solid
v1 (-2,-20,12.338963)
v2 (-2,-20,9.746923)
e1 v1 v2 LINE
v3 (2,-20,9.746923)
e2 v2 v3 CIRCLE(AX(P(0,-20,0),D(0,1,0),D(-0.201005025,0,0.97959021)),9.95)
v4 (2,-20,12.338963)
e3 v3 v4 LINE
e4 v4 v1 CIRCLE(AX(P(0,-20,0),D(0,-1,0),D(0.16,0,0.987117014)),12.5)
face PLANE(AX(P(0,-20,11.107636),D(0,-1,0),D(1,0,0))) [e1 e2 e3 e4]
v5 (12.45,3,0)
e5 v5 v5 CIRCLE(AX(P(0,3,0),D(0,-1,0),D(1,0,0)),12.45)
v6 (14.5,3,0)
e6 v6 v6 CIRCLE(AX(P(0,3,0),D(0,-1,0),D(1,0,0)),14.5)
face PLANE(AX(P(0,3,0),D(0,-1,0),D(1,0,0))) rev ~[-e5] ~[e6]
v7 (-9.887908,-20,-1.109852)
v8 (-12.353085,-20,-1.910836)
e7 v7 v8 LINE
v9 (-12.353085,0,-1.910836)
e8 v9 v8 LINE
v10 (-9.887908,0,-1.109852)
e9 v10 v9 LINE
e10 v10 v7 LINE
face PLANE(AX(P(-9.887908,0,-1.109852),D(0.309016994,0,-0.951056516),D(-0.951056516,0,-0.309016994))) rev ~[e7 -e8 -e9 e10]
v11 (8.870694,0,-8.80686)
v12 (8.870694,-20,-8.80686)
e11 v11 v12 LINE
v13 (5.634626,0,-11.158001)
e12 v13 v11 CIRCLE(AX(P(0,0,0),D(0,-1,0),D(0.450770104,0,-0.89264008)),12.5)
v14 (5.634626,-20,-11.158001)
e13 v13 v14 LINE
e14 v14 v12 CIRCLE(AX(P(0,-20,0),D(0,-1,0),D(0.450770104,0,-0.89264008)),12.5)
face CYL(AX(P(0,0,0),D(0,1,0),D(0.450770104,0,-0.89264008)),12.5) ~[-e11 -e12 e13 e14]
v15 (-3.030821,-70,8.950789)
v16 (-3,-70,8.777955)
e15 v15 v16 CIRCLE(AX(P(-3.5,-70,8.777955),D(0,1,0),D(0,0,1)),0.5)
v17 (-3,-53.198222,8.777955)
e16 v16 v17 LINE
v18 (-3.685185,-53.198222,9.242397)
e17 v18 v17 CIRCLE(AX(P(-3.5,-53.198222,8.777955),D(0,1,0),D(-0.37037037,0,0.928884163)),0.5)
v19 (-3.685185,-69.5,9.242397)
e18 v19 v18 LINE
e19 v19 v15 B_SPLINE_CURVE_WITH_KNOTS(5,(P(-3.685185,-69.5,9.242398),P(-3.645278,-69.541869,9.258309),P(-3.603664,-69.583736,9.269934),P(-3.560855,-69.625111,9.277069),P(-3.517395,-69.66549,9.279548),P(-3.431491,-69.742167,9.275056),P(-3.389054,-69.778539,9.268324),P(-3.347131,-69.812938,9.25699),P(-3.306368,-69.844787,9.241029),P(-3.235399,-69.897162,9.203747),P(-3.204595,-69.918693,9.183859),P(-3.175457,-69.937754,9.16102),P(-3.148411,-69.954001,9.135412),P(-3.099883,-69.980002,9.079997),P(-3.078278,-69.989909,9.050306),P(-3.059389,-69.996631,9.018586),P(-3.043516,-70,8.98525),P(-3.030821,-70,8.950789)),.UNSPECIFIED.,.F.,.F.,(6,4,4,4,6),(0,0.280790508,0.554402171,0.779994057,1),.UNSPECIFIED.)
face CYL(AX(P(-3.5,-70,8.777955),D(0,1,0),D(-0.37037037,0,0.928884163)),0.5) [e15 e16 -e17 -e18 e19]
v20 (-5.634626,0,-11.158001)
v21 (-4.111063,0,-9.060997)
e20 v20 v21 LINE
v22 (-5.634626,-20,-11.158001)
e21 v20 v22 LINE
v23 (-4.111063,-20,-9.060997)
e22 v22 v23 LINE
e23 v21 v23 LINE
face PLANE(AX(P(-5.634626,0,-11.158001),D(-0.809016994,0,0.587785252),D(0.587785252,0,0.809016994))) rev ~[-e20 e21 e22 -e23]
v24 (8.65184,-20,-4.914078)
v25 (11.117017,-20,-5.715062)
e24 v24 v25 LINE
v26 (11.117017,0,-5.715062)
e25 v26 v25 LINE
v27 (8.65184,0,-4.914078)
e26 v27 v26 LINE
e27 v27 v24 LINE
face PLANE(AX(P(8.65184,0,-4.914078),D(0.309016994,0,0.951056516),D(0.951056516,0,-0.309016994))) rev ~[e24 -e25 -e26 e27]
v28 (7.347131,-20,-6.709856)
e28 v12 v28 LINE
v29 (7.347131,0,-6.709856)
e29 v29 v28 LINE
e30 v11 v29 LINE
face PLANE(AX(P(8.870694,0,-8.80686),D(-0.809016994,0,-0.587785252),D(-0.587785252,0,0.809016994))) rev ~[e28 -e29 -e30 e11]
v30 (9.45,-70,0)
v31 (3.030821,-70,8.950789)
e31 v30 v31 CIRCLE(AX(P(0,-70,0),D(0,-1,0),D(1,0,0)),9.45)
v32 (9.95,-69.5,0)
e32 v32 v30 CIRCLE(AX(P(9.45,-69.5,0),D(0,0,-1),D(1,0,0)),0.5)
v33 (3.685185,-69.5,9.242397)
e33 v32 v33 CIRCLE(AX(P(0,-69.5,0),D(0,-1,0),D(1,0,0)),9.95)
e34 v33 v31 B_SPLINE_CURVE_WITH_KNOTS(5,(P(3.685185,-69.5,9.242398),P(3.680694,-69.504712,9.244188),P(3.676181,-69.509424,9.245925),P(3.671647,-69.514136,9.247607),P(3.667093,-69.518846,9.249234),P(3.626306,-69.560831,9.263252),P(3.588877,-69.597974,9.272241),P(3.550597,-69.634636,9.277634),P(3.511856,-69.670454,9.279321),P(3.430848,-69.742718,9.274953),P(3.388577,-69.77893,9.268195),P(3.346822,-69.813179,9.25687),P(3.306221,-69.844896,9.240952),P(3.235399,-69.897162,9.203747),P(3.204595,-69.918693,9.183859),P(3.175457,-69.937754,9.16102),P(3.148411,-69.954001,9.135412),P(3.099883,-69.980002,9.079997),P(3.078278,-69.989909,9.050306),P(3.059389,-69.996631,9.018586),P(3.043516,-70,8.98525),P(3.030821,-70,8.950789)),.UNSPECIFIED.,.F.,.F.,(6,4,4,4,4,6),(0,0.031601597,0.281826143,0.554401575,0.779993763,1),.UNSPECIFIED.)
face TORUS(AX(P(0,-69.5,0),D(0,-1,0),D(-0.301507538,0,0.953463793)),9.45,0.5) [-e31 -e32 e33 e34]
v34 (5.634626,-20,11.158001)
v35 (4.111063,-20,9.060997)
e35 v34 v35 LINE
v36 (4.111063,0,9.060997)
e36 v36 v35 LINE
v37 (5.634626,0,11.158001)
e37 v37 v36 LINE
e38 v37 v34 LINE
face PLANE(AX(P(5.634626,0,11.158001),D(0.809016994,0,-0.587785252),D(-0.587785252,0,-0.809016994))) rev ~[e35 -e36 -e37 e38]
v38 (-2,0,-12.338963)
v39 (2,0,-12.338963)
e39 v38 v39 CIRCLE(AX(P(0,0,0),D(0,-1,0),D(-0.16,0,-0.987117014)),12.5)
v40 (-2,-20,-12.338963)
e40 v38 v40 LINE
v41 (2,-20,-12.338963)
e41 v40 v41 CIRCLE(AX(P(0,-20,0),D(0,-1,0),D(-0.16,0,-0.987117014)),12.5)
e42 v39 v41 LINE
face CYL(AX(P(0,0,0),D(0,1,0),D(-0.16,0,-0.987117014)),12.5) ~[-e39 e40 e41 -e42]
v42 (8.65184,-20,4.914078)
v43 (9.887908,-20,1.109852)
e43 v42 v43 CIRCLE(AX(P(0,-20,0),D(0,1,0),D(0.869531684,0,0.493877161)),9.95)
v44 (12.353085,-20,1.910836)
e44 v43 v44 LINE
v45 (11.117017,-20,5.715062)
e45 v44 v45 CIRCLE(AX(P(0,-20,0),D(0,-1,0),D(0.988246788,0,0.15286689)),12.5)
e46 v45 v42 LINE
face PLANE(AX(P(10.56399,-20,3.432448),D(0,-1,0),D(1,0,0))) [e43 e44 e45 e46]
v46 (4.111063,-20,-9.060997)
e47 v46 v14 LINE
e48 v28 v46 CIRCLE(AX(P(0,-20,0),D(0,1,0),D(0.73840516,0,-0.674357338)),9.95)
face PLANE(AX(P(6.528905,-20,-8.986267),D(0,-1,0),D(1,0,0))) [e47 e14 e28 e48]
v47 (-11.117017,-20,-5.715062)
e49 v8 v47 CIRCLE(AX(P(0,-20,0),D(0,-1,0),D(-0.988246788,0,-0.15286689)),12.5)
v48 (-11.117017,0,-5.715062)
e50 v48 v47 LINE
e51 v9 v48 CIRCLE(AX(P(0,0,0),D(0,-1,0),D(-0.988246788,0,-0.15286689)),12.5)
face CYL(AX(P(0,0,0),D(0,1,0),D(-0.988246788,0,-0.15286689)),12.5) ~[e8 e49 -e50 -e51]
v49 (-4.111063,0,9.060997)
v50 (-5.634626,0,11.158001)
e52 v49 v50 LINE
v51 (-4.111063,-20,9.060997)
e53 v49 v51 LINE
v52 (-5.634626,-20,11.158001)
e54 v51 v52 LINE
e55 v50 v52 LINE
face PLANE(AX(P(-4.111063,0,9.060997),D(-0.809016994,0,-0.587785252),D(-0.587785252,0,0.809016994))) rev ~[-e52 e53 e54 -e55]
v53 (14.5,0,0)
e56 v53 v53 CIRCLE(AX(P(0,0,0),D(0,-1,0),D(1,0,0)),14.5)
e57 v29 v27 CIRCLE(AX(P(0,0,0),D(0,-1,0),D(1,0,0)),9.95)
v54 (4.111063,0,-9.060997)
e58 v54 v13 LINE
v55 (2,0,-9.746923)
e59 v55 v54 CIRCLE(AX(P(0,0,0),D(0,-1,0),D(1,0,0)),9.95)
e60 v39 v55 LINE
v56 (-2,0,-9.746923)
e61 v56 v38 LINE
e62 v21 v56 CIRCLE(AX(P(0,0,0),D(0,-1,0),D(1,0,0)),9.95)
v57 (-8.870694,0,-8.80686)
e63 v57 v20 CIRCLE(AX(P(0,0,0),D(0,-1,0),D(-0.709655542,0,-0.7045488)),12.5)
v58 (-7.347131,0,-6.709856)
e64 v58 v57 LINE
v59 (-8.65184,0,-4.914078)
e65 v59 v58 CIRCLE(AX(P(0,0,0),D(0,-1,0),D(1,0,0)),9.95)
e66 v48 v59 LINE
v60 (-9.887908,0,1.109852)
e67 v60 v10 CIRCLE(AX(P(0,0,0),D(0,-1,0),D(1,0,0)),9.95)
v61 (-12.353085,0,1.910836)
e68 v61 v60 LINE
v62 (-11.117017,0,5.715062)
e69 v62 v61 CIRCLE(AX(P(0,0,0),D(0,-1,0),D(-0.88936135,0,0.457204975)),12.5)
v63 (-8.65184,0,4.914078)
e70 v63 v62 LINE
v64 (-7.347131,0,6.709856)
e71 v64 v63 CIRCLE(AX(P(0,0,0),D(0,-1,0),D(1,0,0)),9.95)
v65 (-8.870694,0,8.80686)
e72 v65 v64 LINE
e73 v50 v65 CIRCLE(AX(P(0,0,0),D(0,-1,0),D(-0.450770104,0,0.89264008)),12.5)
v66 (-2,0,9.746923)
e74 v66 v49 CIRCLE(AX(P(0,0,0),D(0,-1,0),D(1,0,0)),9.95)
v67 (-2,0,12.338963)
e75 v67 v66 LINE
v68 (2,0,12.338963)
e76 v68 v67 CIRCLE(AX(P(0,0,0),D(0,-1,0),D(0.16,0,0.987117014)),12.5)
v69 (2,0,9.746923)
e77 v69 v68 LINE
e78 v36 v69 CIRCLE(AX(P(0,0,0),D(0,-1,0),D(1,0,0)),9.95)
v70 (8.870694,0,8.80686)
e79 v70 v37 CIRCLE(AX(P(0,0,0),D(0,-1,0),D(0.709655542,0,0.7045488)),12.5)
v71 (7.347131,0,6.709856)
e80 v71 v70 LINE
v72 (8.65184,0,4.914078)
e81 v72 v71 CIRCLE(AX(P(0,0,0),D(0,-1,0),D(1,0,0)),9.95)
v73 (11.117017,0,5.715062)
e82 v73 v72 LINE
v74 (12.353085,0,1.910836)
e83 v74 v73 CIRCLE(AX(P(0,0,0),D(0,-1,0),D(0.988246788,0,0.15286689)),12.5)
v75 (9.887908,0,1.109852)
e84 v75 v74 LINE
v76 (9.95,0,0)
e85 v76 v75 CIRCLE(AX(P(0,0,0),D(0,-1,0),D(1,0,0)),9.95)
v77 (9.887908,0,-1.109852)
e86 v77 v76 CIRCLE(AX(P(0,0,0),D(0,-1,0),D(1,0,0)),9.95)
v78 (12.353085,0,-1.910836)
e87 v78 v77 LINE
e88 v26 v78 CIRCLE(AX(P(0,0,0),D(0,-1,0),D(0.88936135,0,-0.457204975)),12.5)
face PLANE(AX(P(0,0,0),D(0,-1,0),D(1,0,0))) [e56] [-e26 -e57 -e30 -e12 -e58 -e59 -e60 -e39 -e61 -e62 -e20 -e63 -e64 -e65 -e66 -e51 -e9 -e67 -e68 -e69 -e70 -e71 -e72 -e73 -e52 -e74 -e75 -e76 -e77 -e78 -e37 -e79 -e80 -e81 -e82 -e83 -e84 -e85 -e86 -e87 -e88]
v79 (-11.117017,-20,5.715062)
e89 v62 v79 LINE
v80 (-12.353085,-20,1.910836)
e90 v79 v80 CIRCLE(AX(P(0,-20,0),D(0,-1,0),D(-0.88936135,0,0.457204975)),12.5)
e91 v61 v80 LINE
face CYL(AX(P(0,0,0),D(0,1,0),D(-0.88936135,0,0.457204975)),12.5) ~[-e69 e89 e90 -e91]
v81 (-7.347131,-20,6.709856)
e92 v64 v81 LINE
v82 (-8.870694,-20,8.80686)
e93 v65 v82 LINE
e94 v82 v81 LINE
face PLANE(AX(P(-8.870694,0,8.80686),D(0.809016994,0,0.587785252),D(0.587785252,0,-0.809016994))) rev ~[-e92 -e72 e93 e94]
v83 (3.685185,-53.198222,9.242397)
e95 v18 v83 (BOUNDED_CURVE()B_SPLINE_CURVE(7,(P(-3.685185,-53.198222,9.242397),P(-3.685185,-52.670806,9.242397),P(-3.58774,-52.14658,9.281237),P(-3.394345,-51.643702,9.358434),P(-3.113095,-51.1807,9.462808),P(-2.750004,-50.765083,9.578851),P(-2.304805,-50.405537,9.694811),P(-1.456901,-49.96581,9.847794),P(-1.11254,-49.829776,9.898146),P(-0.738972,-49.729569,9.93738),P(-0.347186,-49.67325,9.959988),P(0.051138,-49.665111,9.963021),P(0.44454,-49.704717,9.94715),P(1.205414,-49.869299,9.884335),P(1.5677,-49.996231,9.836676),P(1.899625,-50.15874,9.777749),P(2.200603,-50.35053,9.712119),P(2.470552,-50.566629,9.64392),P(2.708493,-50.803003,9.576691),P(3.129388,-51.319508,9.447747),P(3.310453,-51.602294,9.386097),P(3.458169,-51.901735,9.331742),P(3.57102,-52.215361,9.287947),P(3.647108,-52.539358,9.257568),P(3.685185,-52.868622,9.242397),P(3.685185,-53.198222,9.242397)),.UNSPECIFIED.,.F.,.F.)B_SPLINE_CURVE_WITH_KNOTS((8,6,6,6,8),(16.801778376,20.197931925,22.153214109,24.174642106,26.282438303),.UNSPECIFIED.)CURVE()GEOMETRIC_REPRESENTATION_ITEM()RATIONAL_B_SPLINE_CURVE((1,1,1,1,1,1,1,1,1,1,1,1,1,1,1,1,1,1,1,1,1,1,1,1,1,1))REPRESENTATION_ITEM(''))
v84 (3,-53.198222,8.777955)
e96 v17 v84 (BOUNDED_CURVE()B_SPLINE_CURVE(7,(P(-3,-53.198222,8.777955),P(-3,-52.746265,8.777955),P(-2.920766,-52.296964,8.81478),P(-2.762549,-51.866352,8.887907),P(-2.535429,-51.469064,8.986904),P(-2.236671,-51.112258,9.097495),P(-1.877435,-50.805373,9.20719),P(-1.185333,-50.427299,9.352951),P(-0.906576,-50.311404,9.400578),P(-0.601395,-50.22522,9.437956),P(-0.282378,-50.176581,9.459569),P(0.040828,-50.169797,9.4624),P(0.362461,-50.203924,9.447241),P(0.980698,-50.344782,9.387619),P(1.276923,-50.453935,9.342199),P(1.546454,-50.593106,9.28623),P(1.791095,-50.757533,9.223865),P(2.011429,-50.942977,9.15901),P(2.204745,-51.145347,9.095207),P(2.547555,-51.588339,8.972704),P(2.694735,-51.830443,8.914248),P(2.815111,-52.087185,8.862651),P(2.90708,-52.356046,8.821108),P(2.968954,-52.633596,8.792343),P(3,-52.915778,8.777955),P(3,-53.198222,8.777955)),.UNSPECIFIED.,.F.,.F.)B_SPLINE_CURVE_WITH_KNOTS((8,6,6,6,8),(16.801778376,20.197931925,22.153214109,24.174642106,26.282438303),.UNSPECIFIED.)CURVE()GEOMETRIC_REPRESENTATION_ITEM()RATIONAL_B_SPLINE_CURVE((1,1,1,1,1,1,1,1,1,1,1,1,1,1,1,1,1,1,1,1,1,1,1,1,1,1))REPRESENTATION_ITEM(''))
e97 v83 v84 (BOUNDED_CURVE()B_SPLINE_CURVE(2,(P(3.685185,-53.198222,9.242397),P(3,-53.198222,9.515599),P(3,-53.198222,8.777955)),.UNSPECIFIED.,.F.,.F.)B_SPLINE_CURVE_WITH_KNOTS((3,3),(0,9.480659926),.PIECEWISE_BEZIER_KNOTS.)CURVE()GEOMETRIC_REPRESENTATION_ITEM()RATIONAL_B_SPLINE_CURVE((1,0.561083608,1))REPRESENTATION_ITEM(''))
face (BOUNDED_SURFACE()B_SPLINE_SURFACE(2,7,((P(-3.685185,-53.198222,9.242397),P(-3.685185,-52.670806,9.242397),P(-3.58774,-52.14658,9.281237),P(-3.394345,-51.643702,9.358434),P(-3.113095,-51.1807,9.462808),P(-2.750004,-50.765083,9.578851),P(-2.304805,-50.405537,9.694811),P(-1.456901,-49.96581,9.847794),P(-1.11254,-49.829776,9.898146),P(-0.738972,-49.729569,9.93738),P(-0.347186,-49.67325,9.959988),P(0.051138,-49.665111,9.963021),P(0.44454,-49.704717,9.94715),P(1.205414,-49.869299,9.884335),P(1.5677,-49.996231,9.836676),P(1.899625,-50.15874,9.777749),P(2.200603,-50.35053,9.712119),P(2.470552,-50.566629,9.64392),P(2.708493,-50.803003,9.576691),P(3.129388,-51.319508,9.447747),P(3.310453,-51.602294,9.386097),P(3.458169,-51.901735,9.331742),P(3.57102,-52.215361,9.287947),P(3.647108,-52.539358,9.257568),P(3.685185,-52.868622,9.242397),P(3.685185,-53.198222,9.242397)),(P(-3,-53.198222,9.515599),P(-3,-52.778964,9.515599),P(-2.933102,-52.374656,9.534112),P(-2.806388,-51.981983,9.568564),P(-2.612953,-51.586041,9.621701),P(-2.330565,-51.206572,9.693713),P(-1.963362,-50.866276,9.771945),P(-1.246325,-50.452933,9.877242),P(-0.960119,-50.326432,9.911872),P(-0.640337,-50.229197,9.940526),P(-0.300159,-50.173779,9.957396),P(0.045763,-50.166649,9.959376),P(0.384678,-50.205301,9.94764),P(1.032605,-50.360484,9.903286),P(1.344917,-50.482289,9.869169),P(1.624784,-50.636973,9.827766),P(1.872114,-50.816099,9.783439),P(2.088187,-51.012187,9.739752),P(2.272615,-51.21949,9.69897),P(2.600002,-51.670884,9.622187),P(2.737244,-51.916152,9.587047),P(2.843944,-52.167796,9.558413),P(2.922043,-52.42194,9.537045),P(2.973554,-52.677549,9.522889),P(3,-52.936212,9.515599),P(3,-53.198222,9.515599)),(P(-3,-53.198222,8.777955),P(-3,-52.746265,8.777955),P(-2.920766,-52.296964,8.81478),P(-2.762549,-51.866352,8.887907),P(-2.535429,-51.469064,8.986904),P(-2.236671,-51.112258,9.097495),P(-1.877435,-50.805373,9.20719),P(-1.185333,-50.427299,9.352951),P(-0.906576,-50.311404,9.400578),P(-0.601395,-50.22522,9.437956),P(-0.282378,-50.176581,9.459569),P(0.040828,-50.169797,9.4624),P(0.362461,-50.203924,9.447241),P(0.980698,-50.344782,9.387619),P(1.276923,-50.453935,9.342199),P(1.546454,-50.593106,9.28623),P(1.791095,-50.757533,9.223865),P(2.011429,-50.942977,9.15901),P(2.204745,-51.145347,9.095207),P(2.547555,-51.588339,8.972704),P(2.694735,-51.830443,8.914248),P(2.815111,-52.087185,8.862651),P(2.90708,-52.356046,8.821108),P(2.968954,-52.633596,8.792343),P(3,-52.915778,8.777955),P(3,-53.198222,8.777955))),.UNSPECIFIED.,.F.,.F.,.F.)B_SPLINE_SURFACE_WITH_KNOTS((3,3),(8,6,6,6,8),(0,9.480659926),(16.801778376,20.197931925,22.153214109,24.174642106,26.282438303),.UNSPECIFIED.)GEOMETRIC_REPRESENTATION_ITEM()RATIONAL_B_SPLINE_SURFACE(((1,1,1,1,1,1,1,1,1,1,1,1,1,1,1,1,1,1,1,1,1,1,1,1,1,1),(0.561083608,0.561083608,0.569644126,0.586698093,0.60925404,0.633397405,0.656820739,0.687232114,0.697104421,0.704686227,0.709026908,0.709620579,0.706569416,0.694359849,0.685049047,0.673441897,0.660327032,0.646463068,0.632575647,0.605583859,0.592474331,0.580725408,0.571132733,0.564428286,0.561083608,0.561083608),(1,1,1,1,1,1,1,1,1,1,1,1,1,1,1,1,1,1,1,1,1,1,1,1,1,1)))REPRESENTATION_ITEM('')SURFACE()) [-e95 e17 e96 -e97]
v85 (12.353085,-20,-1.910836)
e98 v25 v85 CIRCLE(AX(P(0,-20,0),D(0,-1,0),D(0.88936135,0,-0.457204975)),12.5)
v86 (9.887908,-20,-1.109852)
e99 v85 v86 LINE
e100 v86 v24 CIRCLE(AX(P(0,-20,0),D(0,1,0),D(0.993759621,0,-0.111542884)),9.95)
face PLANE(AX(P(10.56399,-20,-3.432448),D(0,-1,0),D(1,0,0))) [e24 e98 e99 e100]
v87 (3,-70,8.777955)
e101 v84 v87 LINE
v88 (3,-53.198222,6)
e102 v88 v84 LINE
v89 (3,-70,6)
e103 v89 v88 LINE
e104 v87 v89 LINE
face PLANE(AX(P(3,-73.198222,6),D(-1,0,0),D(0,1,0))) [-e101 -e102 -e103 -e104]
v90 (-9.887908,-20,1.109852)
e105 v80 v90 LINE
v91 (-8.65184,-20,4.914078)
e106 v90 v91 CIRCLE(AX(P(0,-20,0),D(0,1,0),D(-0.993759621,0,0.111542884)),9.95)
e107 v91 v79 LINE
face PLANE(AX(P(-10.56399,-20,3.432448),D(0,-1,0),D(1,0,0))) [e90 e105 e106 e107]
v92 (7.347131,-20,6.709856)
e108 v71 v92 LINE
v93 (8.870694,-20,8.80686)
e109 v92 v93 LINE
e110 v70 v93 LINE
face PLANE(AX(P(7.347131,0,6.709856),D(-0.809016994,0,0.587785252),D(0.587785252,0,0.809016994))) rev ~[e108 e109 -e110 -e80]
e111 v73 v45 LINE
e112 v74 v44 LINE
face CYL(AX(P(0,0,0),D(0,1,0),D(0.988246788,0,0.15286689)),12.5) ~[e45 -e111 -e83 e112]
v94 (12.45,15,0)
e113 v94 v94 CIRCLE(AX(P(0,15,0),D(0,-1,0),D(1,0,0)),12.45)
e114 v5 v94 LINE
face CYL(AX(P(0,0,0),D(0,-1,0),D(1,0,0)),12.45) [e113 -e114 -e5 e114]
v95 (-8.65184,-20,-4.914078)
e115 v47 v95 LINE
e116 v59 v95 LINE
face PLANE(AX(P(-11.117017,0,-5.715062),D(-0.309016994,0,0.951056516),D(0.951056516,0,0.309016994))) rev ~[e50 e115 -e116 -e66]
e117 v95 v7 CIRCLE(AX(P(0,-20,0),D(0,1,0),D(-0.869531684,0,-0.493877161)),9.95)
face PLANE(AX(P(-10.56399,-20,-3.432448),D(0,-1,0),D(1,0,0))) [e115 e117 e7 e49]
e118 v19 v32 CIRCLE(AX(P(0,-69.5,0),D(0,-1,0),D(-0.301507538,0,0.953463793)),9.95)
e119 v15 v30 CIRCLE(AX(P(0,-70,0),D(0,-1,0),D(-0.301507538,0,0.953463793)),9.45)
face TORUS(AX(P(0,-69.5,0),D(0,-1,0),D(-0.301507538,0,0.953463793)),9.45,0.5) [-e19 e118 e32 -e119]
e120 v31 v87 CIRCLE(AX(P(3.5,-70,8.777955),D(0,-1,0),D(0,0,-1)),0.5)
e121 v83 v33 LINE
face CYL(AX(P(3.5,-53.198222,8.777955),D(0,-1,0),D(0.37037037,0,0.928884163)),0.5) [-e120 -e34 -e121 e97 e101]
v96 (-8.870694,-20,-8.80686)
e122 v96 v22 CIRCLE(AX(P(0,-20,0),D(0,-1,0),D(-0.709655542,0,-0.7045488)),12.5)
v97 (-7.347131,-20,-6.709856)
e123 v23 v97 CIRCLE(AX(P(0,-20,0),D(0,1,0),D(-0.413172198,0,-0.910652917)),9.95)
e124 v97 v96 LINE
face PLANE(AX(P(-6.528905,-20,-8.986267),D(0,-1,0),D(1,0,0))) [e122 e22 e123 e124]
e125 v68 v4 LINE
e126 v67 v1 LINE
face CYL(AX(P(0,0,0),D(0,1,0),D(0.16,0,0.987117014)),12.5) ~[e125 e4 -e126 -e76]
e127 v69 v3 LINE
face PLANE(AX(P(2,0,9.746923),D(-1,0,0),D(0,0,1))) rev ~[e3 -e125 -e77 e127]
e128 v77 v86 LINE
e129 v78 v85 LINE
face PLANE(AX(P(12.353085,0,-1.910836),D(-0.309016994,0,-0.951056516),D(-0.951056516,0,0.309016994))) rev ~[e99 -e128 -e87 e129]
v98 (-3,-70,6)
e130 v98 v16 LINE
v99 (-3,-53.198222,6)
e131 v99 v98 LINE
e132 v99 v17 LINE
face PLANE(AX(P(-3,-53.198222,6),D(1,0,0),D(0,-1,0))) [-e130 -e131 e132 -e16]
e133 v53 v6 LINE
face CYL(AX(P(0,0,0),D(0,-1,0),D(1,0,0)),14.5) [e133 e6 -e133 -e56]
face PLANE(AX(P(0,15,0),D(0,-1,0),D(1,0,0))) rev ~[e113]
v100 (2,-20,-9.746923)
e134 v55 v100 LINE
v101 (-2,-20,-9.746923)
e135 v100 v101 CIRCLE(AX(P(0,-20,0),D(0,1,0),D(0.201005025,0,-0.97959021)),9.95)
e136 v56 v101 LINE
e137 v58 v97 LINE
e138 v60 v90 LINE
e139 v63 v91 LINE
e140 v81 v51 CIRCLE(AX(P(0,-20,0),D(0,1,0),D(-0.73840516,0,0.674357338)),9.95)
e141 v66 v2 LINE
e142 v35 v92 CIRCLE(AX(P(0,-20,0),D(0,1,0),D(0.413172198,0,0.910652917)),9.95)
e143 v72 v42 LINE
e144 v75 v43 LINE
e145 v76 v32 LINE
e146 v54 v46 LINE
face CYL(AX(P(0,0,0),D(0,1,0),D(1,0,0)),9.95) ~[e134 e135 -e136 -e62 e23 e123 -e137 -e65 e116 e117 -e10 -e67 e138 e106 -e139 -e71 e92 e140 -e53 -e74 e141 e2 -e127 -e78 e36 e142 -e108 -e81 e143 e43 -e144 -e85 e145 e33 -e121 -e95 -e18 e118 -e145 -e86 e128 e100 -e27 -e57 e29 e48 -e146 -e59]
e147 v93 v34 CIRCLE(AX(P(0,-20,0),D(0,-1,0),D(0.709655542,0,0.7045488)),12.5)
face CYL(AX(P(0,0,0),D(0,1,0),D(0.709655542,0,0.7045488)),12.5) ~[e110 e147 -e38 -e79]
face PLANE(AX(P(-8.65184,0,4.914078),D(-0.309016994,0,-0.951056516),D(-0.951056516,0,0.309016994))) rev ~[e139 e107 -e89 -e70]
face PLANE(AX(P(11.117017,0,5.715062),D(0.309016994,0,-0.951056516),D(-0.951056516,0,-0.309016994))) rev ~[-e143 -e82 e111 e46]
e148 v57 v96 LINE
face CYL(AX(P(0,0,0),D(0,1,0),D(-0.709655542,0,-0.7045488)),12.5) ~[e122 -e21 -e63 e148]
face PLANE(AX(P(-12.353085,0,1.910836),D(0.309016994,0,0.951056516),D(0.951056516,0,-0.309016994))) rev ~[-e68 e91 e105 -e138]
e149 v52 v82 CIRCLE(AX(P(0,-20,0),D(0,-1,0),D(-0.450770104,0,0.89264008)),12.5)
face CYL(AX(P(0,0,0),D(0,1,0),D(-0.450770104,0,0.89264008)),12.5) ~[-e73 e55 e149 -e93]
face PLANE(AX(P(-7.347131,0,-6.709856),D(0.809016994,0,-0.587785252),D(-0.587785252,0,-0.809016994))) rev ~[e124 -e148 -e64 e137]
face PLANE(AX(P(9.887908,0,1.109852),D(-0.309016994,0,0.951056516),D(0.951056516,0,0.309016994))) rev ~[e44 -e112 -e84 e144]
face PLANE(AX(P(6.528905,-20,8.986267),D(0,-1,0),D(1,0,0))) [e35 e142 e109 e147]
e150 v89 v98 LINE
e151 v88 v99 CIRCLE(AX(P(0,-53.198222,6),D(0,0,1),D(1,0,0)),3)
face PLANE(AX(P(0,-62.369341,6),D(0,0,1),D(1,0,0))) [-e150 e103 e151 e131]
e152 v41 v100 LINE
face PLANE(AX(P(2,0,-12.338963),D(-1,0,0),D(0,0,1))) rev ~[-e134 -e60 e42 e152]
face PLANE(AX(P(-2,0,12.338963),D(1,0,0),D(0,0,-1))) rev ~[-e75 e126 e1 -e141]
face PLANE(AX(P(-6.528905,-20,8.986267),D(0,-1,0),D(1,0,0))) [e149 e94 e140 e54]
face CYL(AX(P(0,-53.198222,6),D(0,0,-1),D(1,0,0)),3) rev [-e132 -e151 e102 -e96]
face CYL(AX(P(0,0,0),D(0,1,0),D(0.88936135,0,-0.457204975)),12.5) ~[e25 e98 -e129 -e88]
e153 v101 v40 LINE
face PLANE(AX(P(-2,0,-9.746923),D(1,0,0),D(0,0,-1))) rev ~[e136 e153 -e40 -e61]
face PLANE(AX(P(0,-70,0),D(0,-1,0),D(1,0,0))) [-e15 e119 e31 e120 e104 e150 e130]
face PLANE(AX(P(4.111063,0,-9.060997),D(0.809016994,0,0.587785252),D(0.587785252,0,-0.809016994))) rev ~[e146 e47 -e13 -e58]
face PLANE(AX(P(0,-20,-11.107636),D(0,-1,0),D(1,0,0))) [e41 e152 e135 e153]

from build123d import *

# Parameters (mm, degrees)
F0_R     = 9.95
F1_DEPTH = 70
F0_R_2   = 12.45
F2_DEPTH = 15
F0_R_3   = 14.5
F3_DEPTH = 3
F5_DEPTH = 20
F8_DEPTH = 3.95
F9_R     = 0.5


with BuildPart() as f1:
    # F0 (on Front) → F1 (new body)
    with BuildSketch(Plane.XZ):
        Circle(F0_R)
    extrude(amount=F1_DEPTH)

    # F0 (on Front) → F2 (join)
    with BuildSketch(Plane.XZ):
        Circle(F0_R_2)
        Circle(F0_R, mode=Mode.SUBTRACT)
        Circle(F0_R)
    extrude(amount=-F2_DEPTH)

    # F0 (on Front) → F3 (join)
    with BuildSketch(Plane.XZ):
        Circle(F0_R_3)
        Circle(F0_R_2, mode=Mode.SUBTRACT)
        Circle(F0_R_2)
        Circle(F0_R, mode=Mode.SUBTRACT)
        Circle(F0_R)
    extrude(amount=-F3_DEPTH)

    # F4 (on Front) → F5 (join)
    with BuildSketch(Plane.XZ):
        with BuildLine():
            Line((8.6518402555, -4.9140777561), (11.1170168717, -5.7150621934))
            ThreePointArc((11.1170168717, -5.7150621934), (11.8882064537, -3.8627124297), (12.3530848492, -1.9108361283))
            Line((12.3530848492, -1.9108361283), (9.887908233, -1.109851691))
            ThreePointArc((9.887908233, -1.109851691), (9.4630123371, -3.074719094), (8.6518402555, -4.9140777561))
        make_face()
        with BuildLine():
            Line((4.1110633656, -9.0609965238), (5.6346263027, -11.1580010051))
            ThreePointArc((5.6346263027, -11.1580010051), (7.3473156537, -10.1127124297), (8.8706942802, -8.8068599959))
            Line((8.8706942802, -8.8068599959), (7.3471313431, -6.7098555146))
            ThreePointArc((7.3471313431, -6.7098555146), (5.8484632603, -8.049719094), (4.1110633656, -9.0609965238))
        make_face()
        with BuildLine():
            ThreePointArc((2, -9.7469225913), (0, -9.95), (-2, -9.7469225913))
            Line((-2, -9.7469225913), (-2, -12.3389626793))
            ThreePointArc((-2, -12.3389626793), (0, -12.5), (2, -12.3389626793))
            Line((2, -12.3389626793), (2, -9.7469225913))
        make_face()
        with BuildLine():
            Line((-7.3471313431, -6.7098555146), (-8.8706942802, -8.8068599959))
            ThreePointArc((-8.8706942802, -8.8068599959), (-7.3473156537, -10.1127124297), (-5.6346263027, -11.1580010051))
            Line((-5.6346263027, -11.1580010051), (-4.1110633656, -9.0609965238))
            ThreePointArc((-4.1110633656, -9.0609965238), (-5.8484632603, -8.049719094), (-7.3471313431, -6.7098555146))
        make_face()
        with BuildLine():
            Line((-9.887908233, -1.109851691), (-12.3530848492, -1.9108361283))
            ThreePointArc((-12.3530848492, -1.9108361283), (-11.8882064537, -3.8627124297), (-11.1170168717, -5.7150621934))
            Line((-11.1170168717, -5.7150621934), (-8.6518402555, -4.9140777561))
            ThreePointArc((-8.6518402555, -4.9140777561), (-9.4630123371, -3.074719094), (-9.887908233, -1.109851691))
        make_face()
        with BuildLine():
            Line((-8.6518402555, 4.9140777561), (-11.1170168717, 5.7150621934))
            ThreePointArc((-11.1170168717, 5.7150621934), (-11.8882064537, 3.8627124297), (-12.3530848492, 1.9108361283))
            Line((-12.3530848492, 1.9108361283), (-9.887908233, 1.109851691))
            ThreePointArc((-9.887908233, 1.109851691), (-9.4630123371, 3.074719094), (-8.6518402555, 4.9140777561))
        make_face()
        with BuildLine():
            Line((-4.1110633656, 9.0609965238), (-5.6346263027, 11.1580010051))
            ThreePointArc((-5.6346263027, 11.1580010051), (-7.3473156537, 10.1127124297), (-8.8706942802, 8.8068599959))
            Line((-8.8706942802, 8.8068599959), (-7.3471313431, 6.7098555146))
            ThreePointArc((-7.3471313431, 6.7098555146), (-5.8484632603, 8.049719094), (-4.1110633656, 9.0609965238))
        make_face()
        with BuildLine():
            ThreePointArc((-2, 9.7469225913), (0, 9.95), (2, 9.7469225913))
            Line((2, 9.7469225913), (2, 12.3389626793))
            ThreePointArc((2, 12.3389626793), (0, 12.5), (-2, 12.3389626793))
            Line((-2, 12.3389626793), (-2, 9.7469225913))
        make_face()
        with BuildLine():
            Line((7.3471313431, 6.7098555146), (8.8706942802, 8.8068599959))
            ThreePointArc((8.8706942802, 8.8068599959), (7.3473156537, 10.1127124297), (5.6346263027, 11.1580010051))
            Line((5.6346263027, 11.1580010051), (4.1110633656, 9.0609965238))
            ThreePointArc((4.1110633656, 9.0609965238), (5.8484632603, 8.049719094), (7.3471313431, 6.7098555146))
        make_face()
        with BuildLine():
            Line((9.887908233, 1.109851691), (12.3530848492, 1.9108361283))
            ThreePointArc((12.3530848492, 1.9108361283), (11.8882064537, 3.8627124297), (11.1170168717, 5.7150621934))
            Line((11.1170168717, 5.7150621934), (8.6518402555, 4.9140777561))
            ThreePointArc((8.6518402555, 4.9140777561), (9.4630123371, 3.074719094), (9.887908233, 1.109851691))
        make_face()
    extrude(amount=F5_DEPTH)

    # F7 (on offset) → F8 (cut)
    with BuildSketch(Plane.XY.offset(6)):
        with BuildLine():
            Line((-3, -73.1982216239), (0, -73.1982216239))
            Line((0, -73.1982216239), (3, -73.1982216239))
            Line((3, -73.1982216239), (3, -53.1982216239))
            ThreePointArc((3, -53.1982216239), (0, -50.1982216239), (-3, -53.1982216239))
            Line((-3, -53.1982216239), (-3, -73.1982216239))
        make_face()
    extrude(amount=F8_DEPTH, mode=Mode.SUBTRACT)

    # F9
    f9_edges = [f1.edges().sort_by_distance(p)[0] for p in [
        (-5.880157, -70, -8.026596),
        (-3, -61.599111, 9.486965),
        (0, -50.198222, 9.95),
        (3, -61.599111, 9.486965),
    ]]
    fillet(f9_edges, radius=F9_R)


solid = f1.part
